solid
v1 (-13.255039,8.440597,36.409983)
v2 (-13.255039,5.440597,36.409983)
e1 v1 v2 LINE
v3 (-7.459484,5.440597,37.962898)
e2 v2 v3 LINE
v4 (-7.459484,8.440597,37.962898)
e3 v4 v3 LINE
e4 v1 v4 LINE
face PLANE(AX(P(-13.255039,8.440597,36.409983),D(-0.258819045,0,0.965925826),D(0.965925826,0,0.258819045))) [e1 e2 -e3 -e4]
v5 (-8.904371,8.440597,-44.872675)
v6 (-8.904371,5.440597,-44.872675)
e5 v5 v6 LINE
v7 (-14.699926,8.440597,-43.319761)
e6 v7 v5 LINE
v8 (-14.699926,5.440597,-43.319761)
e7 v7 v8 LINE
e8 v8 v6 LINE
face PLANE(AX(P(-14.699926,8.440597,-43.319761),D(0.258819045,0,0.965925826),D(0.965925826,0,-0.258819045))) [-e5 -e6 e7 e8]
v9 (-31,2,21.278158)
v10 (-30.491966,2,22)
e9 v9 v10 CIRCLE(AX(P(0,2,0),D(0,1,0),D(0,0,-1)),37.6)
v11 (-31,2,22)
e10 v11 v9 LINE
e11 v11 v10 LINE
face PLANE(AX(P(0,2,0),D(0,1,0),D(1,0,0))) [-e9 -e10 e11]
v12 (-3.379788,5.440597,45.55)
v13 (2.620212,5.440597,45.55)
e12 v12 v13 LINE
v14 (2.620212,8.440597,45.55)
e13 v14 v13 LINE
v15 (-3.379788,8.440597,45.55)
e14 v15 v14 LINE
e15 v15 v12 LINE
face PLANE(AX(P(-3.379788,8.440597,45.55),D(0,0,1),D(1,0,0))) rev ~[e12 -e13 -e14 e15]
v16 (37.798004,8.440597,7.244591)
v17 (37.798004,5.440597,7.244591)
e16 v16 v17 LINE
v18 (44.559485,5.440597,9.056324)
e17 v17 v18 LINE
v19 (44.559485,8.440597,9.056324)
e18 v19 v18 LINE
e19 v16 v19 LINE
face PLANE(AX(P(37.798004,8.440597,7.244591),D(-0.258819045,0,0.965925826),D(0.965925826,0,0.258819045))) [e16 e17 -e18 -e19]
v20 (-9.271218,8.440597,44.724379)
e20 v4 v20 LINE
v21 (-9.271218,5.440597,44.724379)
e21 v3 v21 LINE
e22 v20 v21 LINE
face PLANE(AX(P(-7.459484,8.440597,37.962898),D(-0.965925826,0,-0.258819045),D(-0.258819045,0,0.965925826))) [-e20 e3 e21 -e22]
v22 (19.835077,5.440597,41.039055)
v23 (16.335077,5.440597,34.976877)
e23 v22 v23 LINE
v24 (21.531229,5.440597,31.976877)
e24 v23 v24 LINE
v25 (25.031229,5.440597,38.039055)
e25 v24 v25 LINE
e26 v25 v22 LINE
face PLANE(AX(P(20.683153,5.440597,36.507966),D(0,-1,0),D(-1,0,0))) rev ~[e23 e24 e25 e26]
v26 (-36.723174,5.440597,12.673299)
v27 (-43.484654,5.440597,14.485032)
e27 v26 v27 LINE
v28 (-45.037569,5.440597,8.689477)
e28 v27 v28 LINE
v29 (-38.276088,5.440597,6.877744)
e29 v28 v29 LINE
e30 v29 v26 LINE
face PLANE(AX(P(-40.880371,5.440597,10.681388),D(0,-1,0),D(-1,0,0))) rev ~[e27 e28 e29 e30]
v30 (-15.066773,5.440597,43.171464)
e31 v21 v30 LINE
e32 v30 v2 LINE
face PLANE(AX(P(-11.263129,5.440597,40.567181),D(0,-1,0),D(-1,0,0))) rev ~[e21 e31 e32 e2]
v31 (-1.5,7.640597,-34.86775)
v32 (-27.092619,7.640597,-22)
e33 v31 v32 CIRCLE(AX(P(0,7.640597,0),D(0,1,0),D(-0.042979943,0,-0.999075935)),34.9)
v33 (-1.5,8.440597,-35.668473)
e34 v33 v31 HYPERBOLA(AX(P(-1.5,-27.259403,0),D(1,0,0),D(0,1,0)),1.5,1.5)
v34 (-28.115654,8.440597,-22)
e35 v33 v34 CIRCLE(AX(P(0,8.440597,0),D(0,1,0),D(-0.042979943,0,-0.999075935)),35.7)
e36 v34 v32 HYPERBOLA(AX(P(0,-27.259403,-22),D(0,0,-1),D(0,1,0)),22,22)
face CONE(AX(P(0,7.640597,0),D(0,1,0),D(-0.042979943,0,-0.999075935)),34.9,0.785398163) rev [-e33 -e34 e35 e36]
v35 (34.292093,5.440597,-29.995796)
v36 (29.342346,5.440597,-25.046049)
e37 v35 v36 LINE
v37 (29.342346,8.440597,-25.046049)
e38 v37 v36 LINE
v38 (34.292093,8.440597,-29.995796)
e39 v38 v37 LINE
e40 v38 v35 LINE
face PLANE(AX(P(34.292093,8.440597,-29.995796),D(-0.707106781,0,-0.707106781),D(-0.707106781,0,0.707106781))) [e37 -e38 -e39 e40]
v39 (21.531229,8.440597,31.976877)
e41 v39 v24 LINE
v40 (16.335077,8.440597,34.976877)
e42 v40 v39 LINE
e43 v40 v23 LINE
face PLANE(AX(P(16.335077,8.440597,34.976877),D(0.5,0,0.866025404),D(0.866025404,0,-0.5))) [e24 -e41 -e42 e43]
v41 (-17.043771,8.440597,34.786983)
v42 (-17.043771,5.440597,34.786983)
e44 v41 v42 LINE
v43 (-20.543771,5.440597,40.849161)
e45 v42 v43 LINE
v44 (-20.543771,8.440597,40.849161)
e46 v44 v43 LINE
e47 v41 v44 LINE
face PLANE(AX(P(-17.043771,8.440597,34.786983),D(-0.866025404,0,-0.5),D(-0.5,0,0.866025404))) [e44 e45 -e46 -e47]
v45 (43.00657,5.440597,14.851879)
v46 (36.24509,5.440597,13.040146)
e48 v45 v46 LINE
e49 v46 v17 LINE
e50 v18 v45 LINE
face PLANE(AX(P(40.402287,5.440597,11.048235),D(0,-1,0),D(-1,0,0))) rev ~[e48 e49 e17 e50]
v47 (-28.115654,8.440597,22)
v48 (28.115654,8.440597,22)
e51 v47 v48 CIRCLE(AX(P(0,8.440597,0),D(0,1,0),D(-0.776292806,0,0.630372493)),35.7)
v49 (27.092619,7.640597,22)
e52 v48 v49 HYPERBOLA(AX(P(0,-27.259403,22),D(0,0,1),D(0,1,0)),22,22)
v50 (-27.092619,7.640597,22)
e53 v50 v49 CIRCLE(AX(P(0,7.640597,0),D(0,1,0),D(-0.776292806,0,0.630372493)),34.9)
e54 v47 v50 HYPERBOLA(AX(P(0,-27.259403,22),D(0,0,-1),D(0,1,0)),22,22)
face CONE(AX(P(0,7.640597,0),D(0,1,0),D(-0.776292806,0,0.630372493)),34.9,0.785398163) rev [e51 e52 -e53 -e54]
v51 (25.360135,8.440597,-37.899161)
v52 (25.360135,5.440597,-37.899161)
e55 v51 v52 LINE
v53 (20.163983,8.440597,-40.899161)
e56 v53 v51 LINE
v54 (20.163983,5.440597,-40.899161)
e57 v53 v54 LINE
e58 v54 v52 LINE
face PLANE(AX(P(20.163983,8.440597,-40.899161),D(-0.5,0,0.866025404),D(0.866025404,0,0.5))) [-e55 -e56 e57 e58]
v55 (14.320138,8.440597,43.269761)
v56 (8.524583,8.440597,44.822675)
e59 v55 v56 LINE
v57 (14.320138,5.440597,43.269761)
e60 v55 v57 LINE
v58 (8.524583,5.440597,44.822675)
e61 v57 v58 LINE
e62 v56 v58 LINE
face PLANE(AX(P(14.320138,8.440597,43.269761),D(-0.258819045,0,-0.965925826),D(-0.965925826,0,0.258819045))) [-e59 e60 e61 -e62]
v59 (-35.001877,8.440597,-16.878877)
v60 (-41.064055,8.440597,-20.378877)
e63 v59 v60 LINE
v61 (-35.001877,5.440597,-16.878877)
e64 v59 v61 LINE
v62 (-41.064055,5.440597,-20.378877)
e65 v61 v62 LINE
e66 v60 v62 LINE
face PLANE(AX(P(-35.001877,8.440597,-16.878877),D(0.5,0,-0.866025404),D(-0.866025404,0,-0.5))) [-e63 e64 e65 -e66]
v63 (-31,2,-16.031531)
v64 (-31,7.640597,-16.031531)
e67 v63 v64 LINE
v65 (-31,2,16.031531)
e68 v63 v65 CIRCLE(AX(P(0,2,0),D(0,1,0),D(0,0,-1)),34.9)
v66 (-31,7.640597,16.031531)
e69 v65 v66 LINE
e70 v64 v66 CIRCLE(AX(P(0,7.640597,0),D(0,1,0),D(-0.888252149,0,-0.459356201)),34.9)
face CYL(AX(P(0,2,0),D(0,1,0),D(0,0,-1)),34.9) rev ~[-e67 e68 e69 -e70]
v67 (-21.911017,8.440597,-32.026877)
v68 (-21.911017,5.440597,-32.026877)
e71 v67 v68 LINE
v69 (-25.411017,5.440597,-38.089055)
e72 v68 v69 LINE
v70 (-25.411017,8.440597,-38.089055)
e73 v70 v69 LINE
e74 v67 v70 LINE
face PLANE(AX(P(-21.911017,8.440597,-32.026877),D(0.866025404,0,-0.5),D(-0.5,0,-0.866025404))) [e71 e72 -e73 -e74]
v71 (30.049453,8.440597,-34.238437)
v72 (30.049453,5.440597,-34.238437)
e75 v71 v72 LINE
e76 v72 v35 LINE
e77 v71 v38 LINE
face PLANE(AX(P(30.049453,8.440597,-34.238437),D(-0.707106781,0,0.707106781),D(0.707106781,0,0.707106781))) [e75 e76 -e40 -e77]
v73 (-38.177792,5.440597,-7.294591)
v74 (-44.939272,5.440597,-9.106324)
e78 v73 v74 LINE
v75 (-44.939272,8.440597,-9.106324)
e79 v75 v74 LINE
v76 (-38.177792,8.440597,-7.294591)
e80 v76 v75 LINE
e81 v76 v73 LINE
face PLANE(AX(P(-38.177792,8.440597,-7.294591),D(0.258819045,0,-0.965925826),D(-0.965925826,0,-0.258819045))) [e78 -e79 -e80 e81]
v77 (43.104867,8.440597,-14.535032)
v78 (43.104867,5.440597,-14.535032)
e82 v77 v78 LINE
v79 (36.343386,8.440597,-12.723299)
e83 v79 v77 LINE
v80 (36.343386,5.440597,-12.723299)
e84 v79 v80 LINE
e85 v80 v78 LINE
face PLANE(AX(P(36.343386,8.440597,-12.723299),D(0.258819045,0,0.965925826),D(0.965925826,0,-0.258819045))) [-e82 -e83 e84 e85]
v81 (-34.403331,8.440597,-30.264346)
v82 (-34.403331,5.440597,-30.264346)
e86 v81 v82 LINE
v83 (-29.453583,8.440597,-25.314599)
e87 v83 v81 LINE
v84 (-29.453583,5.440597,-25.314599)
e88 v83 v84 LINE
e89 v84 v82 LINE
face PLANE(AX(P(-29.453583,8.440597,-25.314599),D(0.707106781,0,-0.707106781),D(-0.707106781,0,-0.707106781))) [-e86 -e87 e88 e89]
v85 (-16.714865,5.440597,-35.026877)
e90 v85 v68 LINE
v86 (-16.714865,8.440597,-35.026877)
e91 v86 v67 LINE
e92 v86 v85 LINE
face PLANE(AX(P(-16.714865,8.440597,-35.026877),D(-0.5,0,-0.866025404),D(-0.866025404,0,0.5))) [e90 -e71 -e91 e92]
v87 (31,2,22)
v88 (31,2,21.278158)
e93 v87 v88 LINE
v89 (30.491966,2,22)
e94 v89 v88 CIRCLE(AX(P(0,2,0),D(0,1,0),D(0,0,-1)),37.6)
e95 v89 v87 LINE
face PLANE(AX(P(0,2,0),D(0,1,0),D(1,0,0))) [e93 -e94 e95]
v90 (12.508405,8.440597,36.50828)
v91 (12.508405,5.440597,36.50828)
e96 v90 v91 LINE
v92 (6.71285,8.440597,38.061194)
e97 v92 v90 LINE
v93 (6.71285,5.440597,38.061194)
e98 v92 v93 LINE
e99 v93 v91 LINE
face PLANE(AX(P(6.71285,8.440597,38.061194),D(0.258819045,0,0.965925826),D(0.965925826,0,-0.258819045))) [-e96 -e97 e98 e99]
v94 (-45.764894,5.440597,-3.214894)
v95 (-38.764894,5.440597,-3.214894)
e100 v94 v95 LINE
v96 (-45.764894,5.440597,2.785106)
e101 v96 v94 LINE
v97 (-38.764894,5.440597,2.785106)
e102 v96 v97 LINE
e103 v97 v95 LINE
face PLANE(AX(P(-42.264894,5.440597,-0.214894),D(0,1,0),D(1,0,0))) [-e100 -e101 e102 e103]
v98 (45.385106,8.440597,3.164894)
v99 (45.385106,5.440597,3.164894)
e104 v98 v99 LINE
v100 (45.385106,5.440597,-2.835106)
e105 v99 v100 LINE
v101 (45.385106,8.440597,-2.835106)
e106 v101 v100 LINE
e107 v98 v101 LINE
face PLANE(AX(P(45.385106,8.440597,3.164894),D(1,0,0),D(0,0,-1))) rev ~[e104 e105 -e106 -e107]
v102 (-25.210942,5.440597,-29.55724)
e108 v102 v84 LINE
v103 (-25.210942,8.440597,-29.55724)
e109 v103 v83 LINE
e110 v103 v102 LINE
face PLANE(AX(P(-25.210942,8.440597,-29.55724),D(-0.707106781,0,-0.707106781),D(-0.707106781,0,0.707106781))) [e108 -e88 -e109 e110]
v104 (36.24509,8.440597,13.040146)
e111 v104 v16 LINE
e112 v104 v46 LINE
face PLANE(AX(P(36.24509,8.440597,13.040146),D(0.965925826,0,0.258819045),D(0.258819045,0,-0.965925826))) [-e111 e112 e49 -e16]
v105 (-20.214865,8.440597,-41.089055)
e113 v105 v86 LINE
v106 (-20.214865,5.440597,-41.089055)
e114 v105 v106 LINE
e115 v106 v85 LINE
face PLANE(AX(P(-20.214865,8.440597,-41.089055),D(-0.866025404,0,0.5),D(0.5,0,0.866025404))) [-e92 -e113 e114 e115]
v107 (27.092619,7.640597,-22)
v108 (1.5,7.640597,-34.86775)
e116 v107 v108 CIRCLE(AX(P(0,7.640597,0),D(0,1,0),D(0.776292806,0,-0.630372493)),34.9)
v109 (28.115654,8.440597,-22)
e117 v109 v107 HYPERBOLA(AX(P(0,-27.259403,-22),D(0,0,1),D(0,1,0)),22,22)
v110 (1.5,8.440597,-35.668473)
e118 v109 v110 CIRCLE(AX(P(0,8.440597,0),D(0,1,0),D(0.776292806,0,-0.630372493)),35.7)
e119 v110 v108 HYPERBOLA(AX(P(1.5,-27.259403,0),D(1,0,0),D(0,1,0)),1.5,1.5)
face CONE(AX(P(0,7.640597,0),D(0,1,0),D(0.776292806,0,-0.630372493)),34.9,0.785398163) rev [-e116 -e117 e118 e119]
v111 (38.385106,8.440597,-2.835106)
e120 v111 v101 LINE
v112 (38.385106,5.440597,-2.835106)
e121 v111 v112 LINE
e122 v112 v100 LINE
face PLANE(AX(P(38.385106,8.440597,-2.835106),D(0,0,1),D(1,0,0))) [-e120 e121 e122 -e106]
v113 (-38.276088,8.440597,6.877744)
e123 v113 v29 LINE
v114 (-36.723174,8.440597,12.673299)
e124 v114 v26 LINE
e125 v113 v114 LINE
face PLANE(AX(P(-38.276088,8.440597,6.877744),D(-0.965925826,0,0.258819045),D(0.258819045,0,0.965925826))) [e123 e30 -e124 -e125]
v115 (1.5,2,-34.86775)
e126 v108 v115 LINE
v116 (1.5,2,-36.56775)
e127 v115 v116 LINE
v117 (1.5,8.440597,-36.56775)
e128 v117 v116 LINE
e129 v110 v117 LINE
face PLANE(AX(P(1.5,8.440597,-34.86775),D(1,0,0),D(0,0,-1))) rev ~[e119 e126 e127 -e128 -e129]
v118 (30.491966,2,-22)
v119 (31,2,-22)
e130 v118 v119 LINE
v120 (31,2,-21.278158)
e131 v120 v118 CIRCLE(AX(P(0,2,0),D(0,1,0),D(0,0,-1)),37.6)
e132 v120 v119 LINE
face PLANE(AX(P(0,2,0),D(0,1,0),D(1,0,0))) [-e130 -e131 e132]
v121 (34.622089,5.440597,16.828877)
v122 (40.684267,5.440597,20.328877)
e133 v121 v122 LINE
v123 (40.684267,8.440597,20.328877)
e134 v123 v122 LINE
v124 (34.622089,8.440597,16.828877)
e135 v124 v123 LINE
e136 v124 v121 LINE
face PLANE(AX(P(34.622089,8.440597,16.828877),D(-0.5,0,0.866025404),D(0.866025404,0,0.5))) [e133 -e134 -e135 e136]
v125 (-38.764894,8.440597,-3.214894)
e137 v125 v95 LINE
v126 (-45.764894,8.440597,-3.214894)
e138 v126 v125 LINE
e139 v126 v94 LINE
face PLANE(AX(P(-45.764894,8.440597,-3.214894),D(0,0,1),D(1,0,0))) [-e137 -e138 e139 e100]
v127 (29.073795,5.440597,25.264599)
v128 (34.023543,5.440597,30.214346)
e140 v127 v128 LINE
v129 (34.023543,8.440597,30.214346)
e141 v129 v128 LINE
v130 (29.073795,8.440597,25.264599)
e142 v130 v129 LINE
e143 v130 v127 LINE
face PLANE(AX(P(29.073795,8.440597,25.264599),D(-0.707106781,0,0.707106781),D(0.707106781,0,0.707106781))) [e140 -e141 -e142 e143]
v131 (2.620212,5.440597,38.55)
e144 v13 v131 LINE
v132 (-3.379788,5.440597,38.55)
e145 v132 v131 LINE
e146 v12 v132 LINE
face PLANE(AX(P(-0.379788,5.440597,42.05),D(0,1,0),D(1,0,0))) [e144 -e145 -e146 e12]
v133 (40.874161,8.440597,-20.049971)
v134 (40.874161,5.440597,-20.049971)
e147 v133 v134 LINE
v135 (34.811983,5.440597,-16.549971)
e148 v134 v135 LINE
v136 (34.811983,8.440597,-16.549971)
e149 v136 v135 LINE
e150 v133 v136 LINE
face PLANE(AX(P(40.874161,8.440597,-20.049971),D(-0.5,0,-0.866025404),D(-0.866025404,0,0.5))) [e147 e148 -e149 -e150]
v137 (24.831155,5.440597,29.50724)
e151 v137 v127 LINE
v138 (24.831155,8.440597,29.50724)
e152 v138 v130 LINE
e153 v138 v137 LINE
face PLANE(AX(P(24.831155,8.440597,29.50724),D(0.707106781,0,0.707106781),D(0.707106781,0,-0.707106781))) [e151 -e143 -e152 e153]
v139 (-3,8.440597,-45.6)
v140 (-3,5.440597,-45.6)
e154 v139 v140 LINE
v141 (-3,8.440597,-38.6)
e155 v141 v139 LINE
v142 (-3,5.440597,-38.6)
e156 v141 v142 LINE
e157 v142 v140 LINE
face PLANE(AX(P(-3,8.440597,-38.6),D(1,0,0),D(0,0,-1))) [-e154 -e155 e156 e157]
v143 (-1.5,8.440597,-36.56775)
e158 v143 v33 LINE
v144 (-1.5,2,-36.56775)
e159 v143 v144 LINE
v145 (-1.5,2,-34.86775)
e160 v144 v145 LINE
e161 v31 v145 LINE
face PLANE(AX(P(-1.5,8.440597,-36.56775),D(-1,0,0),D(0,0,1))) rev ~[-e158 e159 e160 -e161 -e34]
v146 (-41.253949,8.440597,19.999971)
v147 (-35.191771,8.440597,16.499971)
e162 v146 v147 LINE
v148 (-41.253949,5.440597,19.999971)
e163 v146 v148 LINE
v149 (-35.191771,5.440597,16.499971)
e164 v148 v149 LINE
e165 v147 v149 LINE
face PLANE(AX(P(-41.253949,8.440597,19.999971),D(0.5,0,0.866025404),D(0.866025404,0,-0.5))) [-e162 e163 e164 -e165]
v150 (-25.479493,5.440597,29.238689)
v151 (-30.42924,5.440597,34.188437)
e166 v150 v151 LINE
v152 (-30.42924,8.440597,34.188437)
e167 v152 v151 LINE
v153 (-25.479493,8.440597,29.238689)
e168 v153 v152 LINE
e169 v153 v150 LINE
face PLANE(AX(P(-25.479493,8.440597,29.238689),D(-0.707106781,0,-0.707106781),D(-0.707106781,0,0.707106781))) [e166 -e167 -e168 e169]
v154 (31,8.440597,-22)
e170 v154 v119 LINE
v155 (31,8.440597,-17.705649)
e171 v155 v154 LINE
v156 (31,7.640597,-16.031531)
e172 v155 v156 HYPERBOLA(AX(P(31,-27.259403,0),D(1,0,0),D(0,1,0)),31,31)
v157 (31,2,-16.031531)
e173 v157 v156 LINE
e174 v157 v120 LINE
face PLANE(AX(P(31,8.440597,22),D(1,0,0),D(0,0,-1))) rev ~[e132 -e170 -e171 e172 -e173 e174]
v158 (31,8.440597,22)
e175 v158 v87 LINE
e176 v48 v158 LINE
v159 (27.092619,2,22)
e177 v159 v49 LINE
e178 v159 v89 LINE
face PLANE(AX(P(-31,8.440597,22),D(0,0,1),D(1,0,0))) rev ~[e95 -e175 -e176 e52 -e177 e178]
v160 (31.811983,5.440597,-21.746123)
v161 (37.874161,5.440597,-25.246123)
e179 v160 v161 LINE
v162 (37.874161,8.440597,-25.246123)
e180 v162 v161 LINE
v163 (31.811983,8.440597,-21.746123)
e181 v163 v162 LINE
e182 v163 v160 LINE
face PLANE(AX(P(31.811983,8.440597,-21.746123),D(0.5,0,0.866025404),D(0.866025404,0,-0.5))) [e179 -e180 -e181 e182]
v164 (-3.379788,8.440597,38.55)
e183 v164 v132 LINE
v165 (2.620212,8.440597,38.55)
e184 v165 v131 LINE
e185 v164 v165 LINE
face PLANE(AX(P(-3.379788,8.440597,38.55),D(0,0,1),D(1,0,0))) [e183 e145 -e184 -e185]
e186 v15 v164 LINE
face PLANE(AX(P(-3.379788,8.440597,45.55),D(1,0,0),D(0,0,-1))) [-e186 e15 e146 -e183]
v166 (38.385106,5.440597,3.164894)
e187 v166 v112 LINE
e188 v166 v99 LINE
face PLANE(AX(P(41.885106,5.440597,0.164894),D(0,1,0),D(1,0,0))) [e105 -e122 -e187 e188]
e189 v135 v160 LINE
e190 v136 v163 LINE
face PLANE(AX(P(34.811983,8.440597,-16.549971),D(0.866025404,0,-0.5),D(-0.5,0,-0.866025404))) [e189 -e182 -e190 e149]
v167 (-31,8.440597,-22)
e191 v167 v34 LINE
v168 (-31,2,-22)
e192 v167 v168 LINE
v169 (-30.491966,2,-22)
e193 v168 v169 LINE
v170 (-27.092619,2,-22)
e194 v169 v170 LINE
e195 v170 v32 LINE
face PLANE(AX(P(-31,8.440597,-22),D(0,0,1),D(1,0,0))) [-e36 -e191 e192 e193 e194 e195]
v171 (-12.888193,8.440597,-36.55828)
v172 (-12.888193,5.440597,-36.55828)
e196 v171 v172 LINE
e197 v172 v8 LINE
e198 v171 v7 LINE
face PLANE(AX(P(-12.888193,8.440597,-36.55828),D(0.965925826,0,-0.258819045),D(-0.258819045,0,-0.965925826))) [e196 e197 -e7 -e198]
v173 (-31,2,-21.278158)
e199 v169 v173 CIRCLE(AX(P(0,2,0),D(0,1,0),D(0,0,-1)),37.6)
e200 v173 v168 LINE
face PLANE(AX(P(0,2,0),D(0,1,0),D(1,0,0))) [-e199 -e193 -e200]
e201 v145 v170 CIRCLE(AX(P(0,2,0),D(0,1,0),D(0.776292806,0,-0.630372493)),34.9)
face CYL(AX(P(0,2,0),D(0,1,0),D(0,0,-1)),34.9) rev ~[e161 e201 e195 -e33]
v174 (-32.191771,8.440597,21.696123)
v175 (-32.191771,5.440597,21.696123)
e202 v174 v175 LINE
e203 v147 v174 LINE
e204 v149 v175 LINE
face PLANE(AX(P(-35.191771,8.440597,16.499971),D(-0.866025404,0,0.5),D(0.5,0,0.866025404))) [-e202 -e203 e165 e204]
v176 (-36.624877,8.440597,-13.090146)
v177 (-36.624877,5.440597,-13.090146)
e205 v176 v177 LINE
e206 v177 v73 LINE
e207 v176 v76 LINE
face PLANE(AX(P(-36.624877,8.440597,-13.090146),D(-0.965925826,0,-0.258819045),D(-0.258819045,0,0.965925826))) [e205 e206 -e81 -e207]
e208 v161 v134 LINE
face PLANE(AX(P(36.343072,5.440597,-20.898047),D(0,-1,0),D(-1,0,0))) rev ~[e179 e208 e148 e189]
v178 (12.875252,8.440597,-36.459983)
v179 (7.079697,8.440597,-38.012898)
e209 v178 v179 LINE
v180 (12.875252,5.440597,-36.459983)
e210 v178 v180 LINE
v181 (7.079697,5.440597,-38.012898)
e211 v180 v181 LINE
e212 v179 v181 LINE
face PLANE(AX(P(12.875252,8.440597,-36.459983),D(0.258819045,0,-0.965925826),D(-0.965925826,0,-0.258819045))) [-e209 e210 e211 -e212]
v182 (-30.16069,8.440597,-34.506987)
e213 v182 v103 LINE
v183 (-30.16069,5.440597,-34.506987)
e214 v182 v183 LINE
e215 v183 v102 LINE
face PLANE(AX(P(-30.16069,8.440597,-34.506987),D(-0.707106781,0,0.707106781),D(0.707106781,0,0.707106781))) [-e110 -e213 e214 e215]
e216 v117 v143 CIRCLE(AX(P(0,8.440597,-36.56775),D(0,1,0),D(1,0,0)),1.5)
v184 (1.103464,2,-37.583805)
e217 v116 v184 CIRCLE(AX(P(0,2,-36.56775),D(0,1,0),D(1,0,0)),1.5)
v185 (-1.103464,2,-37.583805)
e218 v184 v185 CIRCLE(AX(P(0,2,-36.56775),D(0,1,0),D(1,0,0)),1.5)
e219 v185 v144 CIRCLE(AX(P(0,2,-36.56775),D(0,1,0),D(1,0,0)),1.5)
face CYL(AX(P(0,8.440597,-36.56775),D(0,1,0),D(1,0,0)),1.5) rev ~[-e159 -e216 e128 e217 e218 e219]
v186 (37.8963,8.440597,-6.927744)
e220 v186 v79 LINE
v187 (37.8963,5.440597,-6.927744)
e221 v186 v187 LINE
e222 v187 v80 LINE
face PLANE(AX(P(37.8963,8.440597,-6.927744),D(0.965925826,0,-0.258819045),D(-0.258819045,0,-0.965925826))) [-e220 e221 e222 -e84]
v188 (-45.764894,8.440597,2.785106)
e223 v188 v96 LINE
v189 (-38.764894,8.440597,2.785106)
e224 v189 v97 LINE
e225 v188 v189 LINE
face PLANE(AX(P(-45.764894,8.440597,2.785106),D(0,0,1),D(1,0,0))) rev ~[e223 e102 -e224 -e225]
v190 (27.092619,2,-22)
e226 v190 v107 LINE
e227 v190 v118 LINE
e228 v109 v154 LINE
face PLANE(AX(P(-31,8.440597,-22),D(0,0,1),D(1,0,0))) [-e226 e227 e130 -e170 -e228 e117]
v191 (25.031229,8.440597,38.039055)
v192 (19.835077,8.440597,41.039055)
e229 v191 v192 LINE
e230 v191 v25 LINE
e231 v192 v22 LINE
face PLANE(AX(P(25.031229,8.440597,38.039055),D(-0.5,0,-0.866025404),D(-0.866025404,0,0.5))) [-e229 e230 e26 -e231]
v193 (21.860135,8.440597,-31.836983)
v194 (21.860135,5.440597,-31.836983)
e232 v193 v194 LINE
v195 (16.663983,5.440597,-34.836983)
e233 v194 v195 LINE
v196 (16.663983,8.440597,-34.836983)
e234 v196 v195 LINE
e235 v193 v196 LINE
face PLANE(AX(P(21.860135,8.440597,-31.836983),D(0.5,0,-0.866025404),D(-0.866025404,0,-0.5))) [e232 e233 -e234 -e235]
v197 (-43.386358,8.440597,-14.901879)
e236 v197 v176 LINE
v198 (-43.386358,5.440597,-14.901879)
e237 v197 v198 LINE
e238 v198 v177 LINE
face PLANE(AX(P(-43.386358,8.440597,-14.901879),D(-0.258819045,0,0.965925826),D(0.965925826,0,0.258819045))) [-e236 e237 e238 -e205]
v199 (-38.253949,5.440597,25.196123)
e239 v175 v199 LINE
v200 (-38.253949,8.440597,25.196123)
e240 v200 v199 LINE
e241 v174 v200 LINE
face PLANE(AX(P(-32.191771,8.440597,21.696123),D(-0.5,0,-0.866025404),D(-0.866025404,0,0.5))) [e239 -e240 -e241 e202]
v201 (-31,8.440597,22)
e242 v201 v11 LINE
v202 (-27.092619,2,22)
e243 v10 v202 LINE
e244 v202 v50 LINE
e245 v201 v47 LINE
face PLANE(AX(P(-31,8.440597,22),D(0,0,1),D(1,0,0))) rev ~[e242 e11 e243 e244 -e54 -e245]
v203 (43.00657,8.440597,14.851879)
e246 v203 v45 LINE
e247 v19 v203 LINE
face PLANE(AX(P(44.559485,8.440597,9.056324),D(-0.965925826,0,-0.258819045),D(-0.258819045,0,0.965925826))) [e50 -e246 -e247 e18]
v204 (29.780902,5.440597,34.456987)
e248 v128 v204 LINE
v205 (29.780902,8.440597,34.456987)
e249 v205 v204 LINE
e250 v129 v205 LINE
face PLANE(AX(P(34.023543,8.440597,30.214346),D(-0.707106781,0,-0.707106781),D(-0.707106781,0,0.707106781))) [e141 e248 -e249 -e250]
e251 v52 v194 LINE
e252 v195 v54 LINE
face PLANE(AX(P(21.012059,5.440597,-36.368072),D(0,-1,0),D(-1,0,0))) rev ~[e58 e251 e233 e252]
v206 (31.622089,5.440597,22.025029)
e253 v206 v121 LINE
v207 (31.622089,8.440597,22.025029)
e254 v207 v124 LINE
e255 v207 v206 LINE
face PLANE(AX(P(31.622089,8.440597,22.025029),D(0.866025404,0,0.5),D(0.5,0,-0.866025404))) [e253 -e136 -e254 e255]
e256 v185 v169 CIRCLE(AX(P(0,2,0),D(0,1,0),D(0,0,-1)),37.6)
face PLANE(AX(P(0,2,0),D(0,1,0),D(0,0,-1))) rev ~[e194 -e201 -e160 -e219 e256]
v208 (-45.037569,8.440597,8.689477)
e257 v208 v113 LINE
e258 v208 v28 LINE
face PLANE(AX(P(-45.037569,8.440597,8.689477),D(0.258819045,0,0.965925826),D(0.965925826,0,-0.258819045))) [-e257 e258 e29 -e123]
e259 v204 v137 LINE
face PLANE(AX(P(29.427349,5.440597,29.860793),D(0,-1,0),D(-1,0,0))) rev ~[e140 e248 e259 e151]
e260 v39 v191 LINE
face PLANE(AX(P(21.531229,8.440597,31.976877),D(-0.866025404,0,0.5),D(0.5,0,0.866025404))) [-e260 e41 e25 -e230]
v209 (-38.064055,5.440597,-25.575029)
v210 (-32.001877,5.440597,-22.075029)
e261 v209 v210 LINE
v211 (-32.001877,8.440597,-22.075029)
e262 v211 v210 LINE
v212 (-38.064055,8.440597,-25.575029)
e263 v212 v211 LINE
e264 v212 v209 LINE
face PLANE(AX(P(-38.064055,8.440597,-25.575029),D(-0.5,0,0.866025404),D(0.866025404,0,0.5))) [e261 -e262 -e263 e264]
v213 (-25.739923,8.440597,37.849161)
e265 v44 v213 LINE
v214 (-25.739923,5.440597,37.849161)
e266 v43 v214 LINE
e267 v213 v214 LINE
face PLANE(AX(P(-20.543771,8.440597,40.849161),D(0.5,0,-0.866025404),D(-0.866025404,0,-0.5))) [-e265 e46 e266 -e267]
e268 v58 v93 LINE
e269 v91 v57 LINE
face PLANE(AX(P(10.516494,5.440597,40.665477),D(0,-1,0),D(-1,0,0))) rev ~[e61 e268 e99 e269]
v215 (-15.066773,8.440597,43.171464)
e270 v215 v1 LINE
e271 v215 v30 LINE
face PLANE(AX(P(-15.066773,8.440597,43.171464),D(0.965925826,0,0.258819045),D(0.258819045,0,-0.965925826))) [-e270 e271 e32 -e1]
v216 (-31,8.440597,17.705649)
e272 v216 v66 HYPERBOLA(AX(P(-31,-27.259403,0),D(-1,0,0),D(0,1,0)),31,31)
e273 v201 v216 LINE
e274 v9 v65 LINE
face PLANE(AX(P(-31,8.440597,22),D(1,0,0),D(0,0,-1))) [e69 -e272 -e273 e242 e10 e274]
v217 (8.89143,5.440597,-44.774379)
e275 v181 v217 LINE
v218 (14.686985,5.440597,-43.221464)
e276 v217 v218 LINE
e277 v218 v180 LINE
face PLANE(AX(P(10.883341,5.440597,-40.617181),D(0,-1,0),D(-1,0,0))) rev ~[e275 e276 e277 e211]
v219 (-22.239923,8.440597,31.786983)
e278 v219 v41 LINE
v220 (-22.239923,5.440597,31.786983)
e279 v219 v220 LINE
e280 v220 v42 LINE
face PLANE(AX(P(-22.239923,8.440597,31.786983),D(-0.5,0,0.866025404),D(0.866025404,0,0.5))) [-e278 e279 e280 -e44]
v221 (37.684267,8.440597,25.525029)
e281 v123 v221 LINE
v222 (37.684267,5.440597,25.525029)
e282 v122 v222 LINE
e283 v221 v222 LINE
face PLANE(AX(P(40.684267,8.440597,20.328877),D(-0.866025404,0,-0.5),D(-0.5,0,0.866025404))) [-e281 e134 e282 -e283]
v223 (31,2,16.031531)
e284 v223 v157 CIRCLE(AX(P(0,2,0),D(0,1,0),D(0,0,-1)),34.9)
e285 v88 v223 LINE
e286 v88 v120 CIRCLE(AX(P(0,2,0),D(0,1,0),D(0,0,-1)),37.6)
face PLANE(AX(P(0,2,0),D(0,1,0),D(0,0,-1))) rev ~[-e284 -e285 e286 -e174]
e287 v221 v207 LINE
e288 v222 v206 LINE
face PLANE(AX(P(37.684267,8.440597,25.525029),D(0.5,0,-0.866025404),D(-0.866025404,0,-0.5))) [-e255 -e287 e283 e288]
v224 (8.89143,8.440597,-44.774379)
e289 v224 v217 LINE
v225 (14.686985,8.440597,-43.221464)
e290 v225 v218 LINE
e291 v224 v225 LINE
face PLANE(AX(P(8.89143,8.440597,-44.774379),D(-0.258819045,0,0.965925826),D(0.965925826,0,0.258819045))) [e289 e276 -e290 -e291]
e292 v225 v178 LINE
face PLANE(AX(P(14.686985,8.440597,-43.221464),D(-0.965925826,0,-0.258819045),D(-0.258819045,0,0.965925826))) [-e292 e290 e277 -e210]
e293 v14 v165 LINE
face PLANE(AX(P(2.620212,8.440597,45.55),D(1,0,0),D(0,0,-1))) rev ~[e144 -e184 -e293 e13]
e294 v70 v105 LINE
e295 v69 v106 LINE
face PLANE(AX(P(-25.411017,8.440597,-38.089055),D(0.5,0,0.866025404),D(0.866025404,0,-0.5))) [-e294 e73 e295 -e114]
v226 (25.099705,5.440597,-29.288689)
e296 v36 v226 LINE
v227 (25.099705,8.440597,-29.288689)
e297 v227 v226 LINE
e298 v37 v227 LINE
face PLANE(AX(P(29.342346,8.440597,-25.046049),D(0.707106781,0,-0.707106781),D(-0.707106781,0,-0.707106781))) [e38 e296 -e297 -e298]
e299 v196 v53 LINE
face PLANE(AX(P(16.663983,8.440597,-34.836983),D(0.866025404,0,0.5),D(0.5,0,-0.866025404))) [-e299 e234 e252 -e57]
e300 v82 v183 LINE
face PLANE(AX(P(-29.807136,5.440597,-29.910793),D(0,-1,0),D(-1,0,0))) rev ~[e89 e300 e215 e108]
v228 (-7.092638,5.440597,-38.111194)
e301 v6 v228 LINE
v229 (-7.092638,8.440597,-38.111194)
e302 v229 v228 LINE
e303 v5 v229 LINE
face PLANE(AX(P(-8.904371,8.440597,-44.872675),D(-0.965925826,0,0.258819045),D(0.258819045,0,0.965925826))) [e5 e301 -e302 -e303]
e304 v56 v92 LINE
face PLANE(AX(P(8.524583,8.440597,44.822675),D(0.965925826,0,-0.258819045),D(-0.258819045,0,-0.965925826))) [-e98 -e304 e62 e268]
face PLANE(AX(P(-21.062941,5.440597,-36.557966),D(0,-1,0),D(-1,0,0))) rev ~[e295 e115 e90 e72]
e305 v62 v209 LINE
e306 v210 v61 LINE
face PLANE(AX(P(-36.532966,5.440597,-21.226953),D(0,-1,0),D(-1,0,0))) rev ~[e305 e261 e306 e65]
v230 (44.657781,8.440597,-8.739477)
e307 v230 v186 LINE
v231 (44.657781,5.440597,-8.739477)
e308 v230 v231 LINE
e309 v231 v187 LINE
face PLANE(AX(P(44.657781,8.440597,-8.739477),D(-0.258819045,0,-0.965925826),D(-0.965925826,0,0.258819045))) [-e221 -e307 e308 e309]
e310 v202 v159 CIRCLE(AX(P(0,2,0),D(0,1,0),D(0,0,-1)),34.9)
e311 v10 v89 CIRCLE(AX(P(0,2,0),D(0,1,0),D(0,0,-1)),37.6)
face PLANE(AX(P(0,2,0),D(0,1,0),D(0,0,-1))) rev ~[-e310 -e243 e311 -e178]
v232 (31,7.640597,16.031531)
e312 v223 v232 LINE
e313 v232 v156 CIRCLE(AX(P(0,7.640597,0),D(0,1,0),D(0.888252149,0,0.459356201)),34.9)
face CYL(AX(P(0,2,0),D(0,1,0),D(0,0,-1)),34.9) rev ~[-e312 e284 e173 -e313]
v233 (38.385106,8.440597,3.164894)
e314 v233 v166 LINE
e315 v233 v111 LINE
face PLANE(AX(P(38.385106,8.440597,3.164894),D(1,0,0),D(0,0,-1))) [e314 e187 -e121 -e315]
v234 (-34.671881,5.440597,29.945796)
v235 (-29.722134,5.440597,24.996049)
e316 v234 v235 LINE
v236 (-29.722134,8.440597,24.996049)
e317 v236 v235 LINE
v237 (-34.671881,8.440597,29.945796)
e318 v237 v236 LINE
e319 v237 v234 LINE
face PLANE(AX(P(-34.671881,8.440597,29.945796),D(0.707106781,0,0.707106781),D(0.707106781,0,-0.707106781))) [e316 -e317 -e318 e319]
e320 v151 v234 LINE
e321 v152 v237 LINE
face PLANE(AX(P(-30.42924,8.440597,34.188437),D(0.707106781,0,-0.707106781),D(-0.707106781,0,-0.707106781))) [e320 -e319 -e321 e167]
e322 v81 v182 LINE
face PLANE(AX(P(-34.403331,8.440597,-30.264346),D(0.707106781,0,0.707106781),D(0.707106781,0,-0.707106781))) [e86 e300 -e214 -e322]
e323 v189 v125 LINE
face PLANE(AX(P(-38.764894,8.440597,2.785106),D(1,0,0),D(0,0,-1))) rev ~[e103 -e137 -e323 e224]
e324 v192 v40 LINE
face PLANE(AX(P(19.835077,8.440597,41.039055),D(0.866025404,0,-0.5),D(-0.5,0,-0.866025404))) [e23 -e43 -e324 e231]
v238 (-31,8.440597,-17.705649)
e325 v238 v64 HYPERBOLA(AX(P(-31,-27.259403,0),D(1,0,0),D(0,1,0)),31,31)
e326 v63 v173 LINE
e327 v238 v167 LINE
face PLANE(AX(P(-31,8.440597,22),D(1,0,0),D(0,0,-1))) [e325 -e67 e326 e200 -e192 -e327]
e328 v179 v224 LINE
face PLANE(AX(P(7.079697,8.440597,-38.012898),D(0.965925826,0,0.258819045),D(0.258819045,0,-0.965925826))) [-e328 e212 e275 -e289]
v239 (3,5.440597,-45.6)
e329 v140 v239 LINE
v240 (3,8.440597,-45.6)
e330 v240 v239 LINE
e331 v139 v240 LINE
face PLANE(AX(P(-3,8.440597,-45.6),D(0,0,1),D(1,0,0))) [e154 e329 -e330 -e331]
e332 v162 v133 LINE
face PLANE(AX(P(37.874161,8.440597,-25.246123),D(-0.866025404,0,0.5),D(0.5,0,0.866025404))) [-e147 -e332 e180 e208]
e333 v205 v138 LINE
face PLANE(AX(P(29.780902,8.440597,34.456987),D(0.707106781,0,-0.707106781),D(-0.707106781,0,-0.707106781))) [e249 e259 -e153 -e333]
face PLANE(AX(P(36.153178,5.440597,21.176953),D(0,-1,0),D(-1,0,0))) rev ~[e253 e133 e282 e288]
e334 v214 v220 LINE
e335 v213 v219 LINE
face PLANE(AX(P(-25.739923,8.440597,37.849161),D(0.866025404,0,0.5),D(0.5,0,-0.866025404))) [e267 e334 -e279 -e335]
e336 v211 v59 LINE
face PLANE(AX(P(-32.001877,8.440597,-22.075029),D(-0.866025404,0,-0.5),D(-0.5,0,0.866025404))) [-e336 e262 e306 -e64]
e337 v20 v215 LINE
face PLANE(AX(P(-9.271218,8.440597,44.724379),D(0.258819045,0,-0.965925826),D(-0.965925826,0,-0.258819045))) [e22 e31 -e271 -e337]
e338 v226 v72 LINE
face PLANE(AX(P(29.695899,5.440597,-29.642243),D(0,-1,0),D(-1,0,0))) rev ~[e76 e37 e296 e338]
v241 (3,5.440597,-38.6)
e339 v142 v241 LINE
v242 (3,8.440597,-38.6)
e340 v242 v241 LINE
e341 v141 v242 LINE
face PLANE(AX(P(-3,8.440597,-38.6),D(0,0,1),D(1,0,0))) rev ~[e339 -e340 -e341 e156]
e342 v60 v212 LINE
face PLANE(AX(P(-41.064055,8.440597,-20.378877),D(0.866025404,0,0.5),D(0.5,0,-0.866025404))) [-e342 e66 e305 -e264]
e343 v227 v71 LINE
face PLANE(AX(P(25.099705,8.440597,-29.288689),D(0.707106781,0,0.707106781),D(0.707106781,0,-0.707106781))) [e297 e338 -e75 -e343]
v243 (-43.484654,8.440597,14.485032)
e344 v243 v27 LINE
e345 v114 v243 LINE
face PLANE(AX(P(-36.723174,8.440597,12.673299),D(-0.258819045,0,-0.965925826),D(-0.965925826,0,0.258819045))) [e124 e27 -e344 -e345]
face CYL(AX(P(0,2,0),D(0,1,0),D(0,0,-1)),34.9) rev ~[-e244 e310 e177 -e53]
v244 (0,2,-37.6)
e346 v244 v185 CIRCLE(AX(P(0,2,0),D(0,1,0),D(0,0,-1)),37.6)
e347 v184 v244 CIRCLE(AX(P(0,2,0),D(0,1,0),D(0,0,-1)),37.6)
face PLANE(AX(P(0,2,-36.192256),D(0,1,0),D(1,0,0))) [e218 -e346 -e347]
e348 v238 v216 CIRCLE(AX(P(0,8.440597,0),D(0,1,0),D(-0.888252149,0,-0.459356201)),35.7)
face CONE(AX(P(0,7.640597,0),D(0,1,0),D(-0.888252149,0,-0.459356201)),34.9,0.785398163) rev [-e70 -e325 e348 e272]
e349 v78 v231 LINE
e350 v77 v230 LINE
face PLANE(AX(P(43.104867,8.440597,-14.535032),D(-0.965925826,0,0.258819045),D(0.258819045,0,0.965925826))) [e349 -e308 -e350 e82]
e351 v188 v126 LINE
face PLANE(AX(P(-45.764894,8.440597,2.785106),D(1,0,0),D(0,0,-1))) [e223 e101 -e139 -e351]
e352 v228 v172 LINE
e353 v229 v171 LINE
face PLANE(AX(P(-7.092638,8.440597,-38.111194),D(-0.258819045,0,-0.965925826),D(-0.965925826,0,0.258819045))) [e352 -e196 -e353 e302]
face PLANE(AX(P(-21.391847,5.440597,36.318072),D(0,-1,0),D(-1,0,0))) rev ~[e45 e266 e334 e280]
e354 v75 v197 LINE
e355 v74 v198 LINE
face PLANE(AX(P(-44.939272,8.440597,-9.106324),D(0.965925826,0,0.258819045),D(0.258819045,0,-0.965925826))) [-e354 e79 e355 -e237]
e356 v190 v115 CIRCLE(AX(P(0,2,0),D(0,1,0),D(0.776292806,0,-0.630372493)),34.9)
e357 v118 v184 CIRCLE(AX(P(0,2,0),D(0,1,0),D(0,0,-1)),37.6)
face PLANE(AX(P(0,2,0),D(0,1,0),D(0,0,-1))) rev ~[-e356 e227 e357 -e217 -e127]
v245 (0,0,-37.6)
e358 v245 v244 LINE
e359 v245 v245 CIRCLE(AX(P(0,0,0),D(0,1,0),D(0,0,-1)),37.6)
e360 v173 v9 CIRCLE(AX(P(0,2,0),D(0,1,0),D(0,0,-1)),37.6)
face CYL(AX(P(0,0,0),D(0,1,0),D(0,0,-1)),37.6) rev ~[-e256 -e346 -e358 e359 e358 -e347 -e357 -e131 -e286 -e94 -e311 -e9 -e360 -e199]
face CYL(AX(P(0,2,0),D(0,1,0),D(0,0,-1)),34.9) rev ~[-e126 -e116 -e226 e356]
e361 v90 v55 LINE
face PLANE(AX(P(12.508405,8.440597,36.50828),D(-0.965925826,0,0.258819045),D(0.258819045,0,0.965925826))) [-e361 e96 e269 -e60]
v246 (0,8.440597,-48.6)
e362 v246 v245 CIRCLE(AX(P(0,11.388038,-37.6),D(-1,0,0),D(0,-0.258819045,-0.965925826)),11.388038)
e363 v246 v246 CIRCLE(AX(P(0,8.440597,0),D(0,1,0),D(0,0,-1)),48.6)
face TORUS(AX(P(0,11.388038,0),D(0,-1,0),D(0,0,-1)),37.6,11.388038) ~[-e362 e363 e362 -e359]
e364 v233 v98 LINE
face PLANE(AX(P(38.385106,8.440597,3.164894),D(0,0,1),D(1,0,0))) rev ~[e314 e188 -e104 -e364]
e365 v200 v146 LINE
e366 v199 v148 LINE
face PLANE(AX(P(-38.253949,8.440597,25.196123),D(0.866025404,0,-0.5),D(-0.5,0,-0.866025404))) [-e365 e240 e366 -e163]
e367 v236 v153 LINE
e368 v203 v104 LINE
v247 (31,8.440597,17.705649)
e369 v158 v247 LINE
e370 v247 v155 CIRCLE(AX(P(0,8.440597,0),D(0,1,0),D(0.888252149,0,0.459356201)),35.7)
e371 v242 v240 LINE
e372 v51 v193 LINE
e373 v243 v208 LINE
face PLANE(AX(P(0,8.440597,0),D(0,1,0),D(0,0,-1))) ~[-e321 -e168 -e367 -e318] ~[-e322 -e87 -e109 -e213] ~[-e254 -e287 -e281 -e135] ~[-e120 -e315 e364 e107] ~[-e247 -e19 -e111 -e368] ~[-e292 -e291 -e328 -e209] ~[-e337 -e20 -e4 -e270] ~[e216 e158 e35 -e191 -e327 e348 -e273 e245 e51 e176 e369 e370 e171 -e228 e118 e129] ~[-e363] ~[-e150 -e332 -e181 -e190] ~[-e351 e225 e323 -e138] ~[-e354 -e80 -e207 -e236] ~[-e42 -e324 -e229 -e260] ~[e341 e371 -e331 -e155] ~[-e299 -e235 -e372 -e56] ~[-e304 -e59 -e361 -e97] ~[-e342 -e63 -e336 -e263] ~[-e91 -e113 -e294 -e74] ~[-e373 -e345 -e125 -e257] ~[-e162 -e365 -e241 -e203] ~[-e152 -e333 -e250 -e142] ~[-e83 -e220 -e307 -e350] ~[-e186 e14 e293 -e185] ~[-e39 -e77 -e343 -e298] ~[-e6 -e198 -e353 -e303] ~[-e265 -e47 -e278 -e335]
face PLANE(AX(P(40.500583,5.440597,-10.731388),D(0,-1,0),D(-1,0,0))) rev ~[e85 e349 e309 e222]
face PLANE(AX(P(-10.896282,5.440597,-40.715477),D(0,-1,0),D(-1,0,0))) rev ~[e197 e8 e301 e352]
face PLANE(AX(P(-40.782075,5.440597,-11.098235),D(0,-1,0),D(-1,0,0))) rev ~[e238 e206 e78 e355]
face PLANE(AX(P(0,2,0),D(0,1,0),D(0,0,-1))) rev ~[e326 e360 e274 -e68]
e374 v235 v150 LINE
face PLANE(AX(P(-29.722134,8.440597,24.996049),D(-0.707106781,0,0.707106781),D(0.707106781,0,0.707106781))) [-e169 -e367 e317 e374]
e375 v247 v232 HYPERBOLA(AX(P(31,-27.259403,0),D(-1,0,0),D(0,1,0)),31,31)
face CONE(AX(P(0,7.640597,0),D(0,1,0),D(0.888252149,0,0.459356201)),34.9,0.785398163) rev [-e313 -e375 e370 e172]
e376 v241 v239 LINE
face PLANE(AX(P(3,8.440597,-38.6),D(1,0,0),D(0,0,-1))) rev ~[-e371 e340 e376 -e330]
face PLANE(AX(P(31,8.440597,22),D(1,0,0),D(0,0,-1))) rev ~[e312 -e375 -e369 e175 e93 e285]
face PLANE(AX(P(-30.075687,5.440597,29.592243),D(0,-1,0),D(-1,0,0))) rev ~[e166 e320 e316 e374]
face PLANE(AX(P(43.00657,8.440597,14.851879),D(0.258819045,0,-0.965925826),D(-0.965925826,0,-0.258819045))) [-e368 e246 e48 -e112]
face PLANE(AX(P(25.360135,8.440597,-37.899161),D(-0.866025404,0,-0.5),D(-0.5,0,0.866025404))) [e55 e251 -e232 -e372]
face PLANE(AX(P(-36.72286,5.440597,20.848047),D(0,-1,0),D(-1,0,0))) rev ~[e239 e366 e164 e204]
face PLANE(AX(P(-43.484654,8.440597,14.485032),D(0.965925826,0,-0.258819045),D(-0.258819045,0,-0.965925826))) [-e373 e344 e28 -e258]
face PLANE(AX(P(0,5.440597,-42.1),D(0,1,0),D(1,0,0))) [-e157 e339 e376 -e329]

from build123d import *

# Parameters (mm, degrees)
ESQUISSE2_W             = 62
ESQUISSE2_H             = 44
ENL_V_MAT_EXTRU_1_DEPTH = 6.440596868
ESQUISSE3_W             = 6
ESQUISSE3_H             = 7
ESQUISSE3_W_2           = 7
ESQUISSE3_H_2           = 6
ENL_V_MAT_EXTRU_2_DEPTH = 3
ENL_V_MAT_EXTRU_3_DEPTH = 6.440596868
CHANFREIN1_SIZE         = 0.8


with BuildPart() as part:
    # Esquisse1 → Révolution1 (revolve)
    with BuildSketch(Plane.XY, mode=Mode.PRIVATE) as r_volution1_sk:
        with BuildLine():
            Line((37.6, 0), (37.6, 2))
            Line((37.6, 2), (34.9, 2))
            Line((34.9, 2), (34.9, 8.440596868))
            Line((34.9, 8.440596868), (48.6, 8.440596868))
            ThreePointArc((48.6, 8.440596868), (44.532598277, 2.35330001), (37.6, 0))
        make_face()
    revolve(r_volution1_sk.sketch.rotate(Axis((0, 0, 0), (0, 1, 0)), 90), axis=Axis((0, 0, 0), (0, 1, 0)))

    # Esquisse2 → Enlèv. mat.-Extru.1 (cut)
    with BuildSketch(Plane(origin=(0, 8.440596868, 0), x_dir=(1, 0, 0), z_dir=(0, 1, 0))):
        Rectangle(ESQUISSE2_W, ESQUISSE2_H)
    extrude(amount=-ENL_V_MAT_EXTRU_1_DEPTH, mode=Mode.SUBTRACT)

    # Esquisse3 → Enlèv. mat.-Extru.2 (cut)
    with BuildSketch(Plane(origin=(0, 8.440596868, 0), x_dir=(1, 0, 0), z_dir=(0, 1, 0))):
        with Locations((0, 42.1)):
            Rectangle(ESQUISSE3_W, ESQUISSE3_H)
        Polygon((8.891430026, 44.774378523), (14.686984983, 43.221464252), (12.875251668, 36.459983468), (7.07969671, 38.012897739), align=None)
        Polygon((20.163982836, 40.899160851), (25.360135259, 37.899160851), (21.860135259, 31.836983025), (16.663982836, 34.836983025), align=None)
        Polygon((30.049452587, 34.238436665), (34.292093274, 29.995795978), (29.342345806, 25.04604851), (25.099705119, 29.288689197), align=None)
        Polygon((37.874160851, 25.246123311), (40.874160851, 20.049970888), (34.811983025, 16.549970888), (31.811983025, 21.746123311), align=None)
        Polygon((43.104866691, 14.535032083), (44.657780961, 8.739477125), (37.896300177, 6.927743809), (36.343385907, 12.723298767), align=None)
        with Locations((41.885106147, -0.164893853)):
            Rectangle(ESQUISSE3_W_2, ESQUISSE3_H_2)
        Polygon((44.55948467, -9.056323878), (43.006570399, -14.851878836), (36.245089615, -13.04014552), (37.798003886, -7.244590563), align=None)
        Polygon((40.684266998, -20.328876689), (37.684266998, -25.525029112), (31.622089172, -22.025029112), (34.622089172, -16.828876689), align=None)
        Polygon((34.023542812, -30.21434644), (29.780902125, -34.456987127), (24.831154657, -29.507239659), (29.073795344, -25.264598972), align=None)
        Polygon((25.031229458, -38.039054704), (19.835077035, -41.039054704), (16.335077035, -34.976876877), (21.531229458, -31.976876877), align=None)
        Polygon((14.32013823, -43.269760543), (8.524583272, -44.822674814), (6.712849956, -38.06119403), (12.508404914, -36.508279759), align=None)
        with Locations((-0.379787706, -42.05)):
            Rectangle(ESQUISSE3_W, ESQUISSE3_H)
        Polygon((-9.271217731, -44.724378523), (-15.066772689, -43.171464252), (-13.255039373, -36.409983468), (-7.459484415, -37.962897739), align=None)
        Polygon((-20.543770542, -40.849160851), (-25.739922965, -37.849160851), (-22.239922965, -31.786983025), (-17.043770542, -34.786983025), align=None)
        Polygon((-30.429240293, -34.188436665), (-34.67188098, -29.945795978), (-29.722133512, -24.99604851), (-25.479492825, -29.238689197), align=None)
        Polygon((-38.253948557, -25.196123311), (-41.253948557, -19.999970888), (-35.19177073, -16.499970888), (-32.19177073, -21.696123311), align=None)
        Polygon((-43.484654396, -14.485032083), (-45.037568667, -8.689477125), (-38.276087883, -6.877743809), (-36.723173612, -12.673298767), align=None)
        with Locations((-42.264893853, 0.214893853)):
            Rectangle(ESQUISSE3_W_2, ESQUISSE3_H_2)
        Polygon((-44.939272376, 9.106323878), (-43.386358105, 14.901878836), (-36.624877321, 13.09014552), (-38.177791592, 7.294590563), align=None)
        Polygon((-41.064054704, 20.378876689), (-38.064054704, 25.575029112), (-32.001876877, 22.075029112), (-35.001876877, 16.878876689), align=None)
        Polygon((-34.403330518, 30.26434644), (-30.160689831, 34.506987127), (-25.210942362, 29.557239659), (-29.45358305, 25.314598972), align=None)
        Polygon((-25.411017164, 38.089054704), (-20.214864741, 41.089054704), (-16.714864741, 35.026876877), (-21.911017164, 32.026876877), align=None)
        Polygon((-14.699925936, 43.319760543), (-8.904370978, 44.872674814), (-7.092637662, 38.11119403), (-12.88819262, 36.558279759), align=None)
    extrude(amount=-ENL_V_MAT_EXTRU_2_DEPTH, mode=Mode.SUBTRACT)

    # Esquisse4 → Enlèv. mat.-Extru.3 (cut)
    with BuildSketch(Plane(origin=(0, 8.440596868, 0), x_dir=(1, 0, 0), z_dir=(0, 1, 0))):
        with BuildLine():
            Line((-1.5, 36.567750143), (-1.5, 34.867750143))
            Line((-1.5, 34.867750143), (1.5, 34.867750143))
            Line((1.5, 34.867750143), (1.5, 36.567750143))
            ThreePointArc((1.5, 36.567750143), (0, 38.067750143), (-1.5, 36.567750143))
        make_face()
    extrude(amount=-ENL_V_MAT_EXTRU_3_DEPTH, mode=Mode.SUBTRACT)

    # Chanfrein1
    chanfrein1_edges = [part.edges().sort_by_distance(p)[0] for p in [
        (34.9, 8.440596868, 0),
        (0, 8.440596868, 34.9),
        (-34.9, 8.440596868, 0),
        (-15.677347117, 8.440596868, -31.180615571),
        (15.677347117, 8.440596868, -31.180615571),
    ]]
    chamfer(chanfrein1_edges, length=CHANFREIN1_SIZE)


solid = part.part
